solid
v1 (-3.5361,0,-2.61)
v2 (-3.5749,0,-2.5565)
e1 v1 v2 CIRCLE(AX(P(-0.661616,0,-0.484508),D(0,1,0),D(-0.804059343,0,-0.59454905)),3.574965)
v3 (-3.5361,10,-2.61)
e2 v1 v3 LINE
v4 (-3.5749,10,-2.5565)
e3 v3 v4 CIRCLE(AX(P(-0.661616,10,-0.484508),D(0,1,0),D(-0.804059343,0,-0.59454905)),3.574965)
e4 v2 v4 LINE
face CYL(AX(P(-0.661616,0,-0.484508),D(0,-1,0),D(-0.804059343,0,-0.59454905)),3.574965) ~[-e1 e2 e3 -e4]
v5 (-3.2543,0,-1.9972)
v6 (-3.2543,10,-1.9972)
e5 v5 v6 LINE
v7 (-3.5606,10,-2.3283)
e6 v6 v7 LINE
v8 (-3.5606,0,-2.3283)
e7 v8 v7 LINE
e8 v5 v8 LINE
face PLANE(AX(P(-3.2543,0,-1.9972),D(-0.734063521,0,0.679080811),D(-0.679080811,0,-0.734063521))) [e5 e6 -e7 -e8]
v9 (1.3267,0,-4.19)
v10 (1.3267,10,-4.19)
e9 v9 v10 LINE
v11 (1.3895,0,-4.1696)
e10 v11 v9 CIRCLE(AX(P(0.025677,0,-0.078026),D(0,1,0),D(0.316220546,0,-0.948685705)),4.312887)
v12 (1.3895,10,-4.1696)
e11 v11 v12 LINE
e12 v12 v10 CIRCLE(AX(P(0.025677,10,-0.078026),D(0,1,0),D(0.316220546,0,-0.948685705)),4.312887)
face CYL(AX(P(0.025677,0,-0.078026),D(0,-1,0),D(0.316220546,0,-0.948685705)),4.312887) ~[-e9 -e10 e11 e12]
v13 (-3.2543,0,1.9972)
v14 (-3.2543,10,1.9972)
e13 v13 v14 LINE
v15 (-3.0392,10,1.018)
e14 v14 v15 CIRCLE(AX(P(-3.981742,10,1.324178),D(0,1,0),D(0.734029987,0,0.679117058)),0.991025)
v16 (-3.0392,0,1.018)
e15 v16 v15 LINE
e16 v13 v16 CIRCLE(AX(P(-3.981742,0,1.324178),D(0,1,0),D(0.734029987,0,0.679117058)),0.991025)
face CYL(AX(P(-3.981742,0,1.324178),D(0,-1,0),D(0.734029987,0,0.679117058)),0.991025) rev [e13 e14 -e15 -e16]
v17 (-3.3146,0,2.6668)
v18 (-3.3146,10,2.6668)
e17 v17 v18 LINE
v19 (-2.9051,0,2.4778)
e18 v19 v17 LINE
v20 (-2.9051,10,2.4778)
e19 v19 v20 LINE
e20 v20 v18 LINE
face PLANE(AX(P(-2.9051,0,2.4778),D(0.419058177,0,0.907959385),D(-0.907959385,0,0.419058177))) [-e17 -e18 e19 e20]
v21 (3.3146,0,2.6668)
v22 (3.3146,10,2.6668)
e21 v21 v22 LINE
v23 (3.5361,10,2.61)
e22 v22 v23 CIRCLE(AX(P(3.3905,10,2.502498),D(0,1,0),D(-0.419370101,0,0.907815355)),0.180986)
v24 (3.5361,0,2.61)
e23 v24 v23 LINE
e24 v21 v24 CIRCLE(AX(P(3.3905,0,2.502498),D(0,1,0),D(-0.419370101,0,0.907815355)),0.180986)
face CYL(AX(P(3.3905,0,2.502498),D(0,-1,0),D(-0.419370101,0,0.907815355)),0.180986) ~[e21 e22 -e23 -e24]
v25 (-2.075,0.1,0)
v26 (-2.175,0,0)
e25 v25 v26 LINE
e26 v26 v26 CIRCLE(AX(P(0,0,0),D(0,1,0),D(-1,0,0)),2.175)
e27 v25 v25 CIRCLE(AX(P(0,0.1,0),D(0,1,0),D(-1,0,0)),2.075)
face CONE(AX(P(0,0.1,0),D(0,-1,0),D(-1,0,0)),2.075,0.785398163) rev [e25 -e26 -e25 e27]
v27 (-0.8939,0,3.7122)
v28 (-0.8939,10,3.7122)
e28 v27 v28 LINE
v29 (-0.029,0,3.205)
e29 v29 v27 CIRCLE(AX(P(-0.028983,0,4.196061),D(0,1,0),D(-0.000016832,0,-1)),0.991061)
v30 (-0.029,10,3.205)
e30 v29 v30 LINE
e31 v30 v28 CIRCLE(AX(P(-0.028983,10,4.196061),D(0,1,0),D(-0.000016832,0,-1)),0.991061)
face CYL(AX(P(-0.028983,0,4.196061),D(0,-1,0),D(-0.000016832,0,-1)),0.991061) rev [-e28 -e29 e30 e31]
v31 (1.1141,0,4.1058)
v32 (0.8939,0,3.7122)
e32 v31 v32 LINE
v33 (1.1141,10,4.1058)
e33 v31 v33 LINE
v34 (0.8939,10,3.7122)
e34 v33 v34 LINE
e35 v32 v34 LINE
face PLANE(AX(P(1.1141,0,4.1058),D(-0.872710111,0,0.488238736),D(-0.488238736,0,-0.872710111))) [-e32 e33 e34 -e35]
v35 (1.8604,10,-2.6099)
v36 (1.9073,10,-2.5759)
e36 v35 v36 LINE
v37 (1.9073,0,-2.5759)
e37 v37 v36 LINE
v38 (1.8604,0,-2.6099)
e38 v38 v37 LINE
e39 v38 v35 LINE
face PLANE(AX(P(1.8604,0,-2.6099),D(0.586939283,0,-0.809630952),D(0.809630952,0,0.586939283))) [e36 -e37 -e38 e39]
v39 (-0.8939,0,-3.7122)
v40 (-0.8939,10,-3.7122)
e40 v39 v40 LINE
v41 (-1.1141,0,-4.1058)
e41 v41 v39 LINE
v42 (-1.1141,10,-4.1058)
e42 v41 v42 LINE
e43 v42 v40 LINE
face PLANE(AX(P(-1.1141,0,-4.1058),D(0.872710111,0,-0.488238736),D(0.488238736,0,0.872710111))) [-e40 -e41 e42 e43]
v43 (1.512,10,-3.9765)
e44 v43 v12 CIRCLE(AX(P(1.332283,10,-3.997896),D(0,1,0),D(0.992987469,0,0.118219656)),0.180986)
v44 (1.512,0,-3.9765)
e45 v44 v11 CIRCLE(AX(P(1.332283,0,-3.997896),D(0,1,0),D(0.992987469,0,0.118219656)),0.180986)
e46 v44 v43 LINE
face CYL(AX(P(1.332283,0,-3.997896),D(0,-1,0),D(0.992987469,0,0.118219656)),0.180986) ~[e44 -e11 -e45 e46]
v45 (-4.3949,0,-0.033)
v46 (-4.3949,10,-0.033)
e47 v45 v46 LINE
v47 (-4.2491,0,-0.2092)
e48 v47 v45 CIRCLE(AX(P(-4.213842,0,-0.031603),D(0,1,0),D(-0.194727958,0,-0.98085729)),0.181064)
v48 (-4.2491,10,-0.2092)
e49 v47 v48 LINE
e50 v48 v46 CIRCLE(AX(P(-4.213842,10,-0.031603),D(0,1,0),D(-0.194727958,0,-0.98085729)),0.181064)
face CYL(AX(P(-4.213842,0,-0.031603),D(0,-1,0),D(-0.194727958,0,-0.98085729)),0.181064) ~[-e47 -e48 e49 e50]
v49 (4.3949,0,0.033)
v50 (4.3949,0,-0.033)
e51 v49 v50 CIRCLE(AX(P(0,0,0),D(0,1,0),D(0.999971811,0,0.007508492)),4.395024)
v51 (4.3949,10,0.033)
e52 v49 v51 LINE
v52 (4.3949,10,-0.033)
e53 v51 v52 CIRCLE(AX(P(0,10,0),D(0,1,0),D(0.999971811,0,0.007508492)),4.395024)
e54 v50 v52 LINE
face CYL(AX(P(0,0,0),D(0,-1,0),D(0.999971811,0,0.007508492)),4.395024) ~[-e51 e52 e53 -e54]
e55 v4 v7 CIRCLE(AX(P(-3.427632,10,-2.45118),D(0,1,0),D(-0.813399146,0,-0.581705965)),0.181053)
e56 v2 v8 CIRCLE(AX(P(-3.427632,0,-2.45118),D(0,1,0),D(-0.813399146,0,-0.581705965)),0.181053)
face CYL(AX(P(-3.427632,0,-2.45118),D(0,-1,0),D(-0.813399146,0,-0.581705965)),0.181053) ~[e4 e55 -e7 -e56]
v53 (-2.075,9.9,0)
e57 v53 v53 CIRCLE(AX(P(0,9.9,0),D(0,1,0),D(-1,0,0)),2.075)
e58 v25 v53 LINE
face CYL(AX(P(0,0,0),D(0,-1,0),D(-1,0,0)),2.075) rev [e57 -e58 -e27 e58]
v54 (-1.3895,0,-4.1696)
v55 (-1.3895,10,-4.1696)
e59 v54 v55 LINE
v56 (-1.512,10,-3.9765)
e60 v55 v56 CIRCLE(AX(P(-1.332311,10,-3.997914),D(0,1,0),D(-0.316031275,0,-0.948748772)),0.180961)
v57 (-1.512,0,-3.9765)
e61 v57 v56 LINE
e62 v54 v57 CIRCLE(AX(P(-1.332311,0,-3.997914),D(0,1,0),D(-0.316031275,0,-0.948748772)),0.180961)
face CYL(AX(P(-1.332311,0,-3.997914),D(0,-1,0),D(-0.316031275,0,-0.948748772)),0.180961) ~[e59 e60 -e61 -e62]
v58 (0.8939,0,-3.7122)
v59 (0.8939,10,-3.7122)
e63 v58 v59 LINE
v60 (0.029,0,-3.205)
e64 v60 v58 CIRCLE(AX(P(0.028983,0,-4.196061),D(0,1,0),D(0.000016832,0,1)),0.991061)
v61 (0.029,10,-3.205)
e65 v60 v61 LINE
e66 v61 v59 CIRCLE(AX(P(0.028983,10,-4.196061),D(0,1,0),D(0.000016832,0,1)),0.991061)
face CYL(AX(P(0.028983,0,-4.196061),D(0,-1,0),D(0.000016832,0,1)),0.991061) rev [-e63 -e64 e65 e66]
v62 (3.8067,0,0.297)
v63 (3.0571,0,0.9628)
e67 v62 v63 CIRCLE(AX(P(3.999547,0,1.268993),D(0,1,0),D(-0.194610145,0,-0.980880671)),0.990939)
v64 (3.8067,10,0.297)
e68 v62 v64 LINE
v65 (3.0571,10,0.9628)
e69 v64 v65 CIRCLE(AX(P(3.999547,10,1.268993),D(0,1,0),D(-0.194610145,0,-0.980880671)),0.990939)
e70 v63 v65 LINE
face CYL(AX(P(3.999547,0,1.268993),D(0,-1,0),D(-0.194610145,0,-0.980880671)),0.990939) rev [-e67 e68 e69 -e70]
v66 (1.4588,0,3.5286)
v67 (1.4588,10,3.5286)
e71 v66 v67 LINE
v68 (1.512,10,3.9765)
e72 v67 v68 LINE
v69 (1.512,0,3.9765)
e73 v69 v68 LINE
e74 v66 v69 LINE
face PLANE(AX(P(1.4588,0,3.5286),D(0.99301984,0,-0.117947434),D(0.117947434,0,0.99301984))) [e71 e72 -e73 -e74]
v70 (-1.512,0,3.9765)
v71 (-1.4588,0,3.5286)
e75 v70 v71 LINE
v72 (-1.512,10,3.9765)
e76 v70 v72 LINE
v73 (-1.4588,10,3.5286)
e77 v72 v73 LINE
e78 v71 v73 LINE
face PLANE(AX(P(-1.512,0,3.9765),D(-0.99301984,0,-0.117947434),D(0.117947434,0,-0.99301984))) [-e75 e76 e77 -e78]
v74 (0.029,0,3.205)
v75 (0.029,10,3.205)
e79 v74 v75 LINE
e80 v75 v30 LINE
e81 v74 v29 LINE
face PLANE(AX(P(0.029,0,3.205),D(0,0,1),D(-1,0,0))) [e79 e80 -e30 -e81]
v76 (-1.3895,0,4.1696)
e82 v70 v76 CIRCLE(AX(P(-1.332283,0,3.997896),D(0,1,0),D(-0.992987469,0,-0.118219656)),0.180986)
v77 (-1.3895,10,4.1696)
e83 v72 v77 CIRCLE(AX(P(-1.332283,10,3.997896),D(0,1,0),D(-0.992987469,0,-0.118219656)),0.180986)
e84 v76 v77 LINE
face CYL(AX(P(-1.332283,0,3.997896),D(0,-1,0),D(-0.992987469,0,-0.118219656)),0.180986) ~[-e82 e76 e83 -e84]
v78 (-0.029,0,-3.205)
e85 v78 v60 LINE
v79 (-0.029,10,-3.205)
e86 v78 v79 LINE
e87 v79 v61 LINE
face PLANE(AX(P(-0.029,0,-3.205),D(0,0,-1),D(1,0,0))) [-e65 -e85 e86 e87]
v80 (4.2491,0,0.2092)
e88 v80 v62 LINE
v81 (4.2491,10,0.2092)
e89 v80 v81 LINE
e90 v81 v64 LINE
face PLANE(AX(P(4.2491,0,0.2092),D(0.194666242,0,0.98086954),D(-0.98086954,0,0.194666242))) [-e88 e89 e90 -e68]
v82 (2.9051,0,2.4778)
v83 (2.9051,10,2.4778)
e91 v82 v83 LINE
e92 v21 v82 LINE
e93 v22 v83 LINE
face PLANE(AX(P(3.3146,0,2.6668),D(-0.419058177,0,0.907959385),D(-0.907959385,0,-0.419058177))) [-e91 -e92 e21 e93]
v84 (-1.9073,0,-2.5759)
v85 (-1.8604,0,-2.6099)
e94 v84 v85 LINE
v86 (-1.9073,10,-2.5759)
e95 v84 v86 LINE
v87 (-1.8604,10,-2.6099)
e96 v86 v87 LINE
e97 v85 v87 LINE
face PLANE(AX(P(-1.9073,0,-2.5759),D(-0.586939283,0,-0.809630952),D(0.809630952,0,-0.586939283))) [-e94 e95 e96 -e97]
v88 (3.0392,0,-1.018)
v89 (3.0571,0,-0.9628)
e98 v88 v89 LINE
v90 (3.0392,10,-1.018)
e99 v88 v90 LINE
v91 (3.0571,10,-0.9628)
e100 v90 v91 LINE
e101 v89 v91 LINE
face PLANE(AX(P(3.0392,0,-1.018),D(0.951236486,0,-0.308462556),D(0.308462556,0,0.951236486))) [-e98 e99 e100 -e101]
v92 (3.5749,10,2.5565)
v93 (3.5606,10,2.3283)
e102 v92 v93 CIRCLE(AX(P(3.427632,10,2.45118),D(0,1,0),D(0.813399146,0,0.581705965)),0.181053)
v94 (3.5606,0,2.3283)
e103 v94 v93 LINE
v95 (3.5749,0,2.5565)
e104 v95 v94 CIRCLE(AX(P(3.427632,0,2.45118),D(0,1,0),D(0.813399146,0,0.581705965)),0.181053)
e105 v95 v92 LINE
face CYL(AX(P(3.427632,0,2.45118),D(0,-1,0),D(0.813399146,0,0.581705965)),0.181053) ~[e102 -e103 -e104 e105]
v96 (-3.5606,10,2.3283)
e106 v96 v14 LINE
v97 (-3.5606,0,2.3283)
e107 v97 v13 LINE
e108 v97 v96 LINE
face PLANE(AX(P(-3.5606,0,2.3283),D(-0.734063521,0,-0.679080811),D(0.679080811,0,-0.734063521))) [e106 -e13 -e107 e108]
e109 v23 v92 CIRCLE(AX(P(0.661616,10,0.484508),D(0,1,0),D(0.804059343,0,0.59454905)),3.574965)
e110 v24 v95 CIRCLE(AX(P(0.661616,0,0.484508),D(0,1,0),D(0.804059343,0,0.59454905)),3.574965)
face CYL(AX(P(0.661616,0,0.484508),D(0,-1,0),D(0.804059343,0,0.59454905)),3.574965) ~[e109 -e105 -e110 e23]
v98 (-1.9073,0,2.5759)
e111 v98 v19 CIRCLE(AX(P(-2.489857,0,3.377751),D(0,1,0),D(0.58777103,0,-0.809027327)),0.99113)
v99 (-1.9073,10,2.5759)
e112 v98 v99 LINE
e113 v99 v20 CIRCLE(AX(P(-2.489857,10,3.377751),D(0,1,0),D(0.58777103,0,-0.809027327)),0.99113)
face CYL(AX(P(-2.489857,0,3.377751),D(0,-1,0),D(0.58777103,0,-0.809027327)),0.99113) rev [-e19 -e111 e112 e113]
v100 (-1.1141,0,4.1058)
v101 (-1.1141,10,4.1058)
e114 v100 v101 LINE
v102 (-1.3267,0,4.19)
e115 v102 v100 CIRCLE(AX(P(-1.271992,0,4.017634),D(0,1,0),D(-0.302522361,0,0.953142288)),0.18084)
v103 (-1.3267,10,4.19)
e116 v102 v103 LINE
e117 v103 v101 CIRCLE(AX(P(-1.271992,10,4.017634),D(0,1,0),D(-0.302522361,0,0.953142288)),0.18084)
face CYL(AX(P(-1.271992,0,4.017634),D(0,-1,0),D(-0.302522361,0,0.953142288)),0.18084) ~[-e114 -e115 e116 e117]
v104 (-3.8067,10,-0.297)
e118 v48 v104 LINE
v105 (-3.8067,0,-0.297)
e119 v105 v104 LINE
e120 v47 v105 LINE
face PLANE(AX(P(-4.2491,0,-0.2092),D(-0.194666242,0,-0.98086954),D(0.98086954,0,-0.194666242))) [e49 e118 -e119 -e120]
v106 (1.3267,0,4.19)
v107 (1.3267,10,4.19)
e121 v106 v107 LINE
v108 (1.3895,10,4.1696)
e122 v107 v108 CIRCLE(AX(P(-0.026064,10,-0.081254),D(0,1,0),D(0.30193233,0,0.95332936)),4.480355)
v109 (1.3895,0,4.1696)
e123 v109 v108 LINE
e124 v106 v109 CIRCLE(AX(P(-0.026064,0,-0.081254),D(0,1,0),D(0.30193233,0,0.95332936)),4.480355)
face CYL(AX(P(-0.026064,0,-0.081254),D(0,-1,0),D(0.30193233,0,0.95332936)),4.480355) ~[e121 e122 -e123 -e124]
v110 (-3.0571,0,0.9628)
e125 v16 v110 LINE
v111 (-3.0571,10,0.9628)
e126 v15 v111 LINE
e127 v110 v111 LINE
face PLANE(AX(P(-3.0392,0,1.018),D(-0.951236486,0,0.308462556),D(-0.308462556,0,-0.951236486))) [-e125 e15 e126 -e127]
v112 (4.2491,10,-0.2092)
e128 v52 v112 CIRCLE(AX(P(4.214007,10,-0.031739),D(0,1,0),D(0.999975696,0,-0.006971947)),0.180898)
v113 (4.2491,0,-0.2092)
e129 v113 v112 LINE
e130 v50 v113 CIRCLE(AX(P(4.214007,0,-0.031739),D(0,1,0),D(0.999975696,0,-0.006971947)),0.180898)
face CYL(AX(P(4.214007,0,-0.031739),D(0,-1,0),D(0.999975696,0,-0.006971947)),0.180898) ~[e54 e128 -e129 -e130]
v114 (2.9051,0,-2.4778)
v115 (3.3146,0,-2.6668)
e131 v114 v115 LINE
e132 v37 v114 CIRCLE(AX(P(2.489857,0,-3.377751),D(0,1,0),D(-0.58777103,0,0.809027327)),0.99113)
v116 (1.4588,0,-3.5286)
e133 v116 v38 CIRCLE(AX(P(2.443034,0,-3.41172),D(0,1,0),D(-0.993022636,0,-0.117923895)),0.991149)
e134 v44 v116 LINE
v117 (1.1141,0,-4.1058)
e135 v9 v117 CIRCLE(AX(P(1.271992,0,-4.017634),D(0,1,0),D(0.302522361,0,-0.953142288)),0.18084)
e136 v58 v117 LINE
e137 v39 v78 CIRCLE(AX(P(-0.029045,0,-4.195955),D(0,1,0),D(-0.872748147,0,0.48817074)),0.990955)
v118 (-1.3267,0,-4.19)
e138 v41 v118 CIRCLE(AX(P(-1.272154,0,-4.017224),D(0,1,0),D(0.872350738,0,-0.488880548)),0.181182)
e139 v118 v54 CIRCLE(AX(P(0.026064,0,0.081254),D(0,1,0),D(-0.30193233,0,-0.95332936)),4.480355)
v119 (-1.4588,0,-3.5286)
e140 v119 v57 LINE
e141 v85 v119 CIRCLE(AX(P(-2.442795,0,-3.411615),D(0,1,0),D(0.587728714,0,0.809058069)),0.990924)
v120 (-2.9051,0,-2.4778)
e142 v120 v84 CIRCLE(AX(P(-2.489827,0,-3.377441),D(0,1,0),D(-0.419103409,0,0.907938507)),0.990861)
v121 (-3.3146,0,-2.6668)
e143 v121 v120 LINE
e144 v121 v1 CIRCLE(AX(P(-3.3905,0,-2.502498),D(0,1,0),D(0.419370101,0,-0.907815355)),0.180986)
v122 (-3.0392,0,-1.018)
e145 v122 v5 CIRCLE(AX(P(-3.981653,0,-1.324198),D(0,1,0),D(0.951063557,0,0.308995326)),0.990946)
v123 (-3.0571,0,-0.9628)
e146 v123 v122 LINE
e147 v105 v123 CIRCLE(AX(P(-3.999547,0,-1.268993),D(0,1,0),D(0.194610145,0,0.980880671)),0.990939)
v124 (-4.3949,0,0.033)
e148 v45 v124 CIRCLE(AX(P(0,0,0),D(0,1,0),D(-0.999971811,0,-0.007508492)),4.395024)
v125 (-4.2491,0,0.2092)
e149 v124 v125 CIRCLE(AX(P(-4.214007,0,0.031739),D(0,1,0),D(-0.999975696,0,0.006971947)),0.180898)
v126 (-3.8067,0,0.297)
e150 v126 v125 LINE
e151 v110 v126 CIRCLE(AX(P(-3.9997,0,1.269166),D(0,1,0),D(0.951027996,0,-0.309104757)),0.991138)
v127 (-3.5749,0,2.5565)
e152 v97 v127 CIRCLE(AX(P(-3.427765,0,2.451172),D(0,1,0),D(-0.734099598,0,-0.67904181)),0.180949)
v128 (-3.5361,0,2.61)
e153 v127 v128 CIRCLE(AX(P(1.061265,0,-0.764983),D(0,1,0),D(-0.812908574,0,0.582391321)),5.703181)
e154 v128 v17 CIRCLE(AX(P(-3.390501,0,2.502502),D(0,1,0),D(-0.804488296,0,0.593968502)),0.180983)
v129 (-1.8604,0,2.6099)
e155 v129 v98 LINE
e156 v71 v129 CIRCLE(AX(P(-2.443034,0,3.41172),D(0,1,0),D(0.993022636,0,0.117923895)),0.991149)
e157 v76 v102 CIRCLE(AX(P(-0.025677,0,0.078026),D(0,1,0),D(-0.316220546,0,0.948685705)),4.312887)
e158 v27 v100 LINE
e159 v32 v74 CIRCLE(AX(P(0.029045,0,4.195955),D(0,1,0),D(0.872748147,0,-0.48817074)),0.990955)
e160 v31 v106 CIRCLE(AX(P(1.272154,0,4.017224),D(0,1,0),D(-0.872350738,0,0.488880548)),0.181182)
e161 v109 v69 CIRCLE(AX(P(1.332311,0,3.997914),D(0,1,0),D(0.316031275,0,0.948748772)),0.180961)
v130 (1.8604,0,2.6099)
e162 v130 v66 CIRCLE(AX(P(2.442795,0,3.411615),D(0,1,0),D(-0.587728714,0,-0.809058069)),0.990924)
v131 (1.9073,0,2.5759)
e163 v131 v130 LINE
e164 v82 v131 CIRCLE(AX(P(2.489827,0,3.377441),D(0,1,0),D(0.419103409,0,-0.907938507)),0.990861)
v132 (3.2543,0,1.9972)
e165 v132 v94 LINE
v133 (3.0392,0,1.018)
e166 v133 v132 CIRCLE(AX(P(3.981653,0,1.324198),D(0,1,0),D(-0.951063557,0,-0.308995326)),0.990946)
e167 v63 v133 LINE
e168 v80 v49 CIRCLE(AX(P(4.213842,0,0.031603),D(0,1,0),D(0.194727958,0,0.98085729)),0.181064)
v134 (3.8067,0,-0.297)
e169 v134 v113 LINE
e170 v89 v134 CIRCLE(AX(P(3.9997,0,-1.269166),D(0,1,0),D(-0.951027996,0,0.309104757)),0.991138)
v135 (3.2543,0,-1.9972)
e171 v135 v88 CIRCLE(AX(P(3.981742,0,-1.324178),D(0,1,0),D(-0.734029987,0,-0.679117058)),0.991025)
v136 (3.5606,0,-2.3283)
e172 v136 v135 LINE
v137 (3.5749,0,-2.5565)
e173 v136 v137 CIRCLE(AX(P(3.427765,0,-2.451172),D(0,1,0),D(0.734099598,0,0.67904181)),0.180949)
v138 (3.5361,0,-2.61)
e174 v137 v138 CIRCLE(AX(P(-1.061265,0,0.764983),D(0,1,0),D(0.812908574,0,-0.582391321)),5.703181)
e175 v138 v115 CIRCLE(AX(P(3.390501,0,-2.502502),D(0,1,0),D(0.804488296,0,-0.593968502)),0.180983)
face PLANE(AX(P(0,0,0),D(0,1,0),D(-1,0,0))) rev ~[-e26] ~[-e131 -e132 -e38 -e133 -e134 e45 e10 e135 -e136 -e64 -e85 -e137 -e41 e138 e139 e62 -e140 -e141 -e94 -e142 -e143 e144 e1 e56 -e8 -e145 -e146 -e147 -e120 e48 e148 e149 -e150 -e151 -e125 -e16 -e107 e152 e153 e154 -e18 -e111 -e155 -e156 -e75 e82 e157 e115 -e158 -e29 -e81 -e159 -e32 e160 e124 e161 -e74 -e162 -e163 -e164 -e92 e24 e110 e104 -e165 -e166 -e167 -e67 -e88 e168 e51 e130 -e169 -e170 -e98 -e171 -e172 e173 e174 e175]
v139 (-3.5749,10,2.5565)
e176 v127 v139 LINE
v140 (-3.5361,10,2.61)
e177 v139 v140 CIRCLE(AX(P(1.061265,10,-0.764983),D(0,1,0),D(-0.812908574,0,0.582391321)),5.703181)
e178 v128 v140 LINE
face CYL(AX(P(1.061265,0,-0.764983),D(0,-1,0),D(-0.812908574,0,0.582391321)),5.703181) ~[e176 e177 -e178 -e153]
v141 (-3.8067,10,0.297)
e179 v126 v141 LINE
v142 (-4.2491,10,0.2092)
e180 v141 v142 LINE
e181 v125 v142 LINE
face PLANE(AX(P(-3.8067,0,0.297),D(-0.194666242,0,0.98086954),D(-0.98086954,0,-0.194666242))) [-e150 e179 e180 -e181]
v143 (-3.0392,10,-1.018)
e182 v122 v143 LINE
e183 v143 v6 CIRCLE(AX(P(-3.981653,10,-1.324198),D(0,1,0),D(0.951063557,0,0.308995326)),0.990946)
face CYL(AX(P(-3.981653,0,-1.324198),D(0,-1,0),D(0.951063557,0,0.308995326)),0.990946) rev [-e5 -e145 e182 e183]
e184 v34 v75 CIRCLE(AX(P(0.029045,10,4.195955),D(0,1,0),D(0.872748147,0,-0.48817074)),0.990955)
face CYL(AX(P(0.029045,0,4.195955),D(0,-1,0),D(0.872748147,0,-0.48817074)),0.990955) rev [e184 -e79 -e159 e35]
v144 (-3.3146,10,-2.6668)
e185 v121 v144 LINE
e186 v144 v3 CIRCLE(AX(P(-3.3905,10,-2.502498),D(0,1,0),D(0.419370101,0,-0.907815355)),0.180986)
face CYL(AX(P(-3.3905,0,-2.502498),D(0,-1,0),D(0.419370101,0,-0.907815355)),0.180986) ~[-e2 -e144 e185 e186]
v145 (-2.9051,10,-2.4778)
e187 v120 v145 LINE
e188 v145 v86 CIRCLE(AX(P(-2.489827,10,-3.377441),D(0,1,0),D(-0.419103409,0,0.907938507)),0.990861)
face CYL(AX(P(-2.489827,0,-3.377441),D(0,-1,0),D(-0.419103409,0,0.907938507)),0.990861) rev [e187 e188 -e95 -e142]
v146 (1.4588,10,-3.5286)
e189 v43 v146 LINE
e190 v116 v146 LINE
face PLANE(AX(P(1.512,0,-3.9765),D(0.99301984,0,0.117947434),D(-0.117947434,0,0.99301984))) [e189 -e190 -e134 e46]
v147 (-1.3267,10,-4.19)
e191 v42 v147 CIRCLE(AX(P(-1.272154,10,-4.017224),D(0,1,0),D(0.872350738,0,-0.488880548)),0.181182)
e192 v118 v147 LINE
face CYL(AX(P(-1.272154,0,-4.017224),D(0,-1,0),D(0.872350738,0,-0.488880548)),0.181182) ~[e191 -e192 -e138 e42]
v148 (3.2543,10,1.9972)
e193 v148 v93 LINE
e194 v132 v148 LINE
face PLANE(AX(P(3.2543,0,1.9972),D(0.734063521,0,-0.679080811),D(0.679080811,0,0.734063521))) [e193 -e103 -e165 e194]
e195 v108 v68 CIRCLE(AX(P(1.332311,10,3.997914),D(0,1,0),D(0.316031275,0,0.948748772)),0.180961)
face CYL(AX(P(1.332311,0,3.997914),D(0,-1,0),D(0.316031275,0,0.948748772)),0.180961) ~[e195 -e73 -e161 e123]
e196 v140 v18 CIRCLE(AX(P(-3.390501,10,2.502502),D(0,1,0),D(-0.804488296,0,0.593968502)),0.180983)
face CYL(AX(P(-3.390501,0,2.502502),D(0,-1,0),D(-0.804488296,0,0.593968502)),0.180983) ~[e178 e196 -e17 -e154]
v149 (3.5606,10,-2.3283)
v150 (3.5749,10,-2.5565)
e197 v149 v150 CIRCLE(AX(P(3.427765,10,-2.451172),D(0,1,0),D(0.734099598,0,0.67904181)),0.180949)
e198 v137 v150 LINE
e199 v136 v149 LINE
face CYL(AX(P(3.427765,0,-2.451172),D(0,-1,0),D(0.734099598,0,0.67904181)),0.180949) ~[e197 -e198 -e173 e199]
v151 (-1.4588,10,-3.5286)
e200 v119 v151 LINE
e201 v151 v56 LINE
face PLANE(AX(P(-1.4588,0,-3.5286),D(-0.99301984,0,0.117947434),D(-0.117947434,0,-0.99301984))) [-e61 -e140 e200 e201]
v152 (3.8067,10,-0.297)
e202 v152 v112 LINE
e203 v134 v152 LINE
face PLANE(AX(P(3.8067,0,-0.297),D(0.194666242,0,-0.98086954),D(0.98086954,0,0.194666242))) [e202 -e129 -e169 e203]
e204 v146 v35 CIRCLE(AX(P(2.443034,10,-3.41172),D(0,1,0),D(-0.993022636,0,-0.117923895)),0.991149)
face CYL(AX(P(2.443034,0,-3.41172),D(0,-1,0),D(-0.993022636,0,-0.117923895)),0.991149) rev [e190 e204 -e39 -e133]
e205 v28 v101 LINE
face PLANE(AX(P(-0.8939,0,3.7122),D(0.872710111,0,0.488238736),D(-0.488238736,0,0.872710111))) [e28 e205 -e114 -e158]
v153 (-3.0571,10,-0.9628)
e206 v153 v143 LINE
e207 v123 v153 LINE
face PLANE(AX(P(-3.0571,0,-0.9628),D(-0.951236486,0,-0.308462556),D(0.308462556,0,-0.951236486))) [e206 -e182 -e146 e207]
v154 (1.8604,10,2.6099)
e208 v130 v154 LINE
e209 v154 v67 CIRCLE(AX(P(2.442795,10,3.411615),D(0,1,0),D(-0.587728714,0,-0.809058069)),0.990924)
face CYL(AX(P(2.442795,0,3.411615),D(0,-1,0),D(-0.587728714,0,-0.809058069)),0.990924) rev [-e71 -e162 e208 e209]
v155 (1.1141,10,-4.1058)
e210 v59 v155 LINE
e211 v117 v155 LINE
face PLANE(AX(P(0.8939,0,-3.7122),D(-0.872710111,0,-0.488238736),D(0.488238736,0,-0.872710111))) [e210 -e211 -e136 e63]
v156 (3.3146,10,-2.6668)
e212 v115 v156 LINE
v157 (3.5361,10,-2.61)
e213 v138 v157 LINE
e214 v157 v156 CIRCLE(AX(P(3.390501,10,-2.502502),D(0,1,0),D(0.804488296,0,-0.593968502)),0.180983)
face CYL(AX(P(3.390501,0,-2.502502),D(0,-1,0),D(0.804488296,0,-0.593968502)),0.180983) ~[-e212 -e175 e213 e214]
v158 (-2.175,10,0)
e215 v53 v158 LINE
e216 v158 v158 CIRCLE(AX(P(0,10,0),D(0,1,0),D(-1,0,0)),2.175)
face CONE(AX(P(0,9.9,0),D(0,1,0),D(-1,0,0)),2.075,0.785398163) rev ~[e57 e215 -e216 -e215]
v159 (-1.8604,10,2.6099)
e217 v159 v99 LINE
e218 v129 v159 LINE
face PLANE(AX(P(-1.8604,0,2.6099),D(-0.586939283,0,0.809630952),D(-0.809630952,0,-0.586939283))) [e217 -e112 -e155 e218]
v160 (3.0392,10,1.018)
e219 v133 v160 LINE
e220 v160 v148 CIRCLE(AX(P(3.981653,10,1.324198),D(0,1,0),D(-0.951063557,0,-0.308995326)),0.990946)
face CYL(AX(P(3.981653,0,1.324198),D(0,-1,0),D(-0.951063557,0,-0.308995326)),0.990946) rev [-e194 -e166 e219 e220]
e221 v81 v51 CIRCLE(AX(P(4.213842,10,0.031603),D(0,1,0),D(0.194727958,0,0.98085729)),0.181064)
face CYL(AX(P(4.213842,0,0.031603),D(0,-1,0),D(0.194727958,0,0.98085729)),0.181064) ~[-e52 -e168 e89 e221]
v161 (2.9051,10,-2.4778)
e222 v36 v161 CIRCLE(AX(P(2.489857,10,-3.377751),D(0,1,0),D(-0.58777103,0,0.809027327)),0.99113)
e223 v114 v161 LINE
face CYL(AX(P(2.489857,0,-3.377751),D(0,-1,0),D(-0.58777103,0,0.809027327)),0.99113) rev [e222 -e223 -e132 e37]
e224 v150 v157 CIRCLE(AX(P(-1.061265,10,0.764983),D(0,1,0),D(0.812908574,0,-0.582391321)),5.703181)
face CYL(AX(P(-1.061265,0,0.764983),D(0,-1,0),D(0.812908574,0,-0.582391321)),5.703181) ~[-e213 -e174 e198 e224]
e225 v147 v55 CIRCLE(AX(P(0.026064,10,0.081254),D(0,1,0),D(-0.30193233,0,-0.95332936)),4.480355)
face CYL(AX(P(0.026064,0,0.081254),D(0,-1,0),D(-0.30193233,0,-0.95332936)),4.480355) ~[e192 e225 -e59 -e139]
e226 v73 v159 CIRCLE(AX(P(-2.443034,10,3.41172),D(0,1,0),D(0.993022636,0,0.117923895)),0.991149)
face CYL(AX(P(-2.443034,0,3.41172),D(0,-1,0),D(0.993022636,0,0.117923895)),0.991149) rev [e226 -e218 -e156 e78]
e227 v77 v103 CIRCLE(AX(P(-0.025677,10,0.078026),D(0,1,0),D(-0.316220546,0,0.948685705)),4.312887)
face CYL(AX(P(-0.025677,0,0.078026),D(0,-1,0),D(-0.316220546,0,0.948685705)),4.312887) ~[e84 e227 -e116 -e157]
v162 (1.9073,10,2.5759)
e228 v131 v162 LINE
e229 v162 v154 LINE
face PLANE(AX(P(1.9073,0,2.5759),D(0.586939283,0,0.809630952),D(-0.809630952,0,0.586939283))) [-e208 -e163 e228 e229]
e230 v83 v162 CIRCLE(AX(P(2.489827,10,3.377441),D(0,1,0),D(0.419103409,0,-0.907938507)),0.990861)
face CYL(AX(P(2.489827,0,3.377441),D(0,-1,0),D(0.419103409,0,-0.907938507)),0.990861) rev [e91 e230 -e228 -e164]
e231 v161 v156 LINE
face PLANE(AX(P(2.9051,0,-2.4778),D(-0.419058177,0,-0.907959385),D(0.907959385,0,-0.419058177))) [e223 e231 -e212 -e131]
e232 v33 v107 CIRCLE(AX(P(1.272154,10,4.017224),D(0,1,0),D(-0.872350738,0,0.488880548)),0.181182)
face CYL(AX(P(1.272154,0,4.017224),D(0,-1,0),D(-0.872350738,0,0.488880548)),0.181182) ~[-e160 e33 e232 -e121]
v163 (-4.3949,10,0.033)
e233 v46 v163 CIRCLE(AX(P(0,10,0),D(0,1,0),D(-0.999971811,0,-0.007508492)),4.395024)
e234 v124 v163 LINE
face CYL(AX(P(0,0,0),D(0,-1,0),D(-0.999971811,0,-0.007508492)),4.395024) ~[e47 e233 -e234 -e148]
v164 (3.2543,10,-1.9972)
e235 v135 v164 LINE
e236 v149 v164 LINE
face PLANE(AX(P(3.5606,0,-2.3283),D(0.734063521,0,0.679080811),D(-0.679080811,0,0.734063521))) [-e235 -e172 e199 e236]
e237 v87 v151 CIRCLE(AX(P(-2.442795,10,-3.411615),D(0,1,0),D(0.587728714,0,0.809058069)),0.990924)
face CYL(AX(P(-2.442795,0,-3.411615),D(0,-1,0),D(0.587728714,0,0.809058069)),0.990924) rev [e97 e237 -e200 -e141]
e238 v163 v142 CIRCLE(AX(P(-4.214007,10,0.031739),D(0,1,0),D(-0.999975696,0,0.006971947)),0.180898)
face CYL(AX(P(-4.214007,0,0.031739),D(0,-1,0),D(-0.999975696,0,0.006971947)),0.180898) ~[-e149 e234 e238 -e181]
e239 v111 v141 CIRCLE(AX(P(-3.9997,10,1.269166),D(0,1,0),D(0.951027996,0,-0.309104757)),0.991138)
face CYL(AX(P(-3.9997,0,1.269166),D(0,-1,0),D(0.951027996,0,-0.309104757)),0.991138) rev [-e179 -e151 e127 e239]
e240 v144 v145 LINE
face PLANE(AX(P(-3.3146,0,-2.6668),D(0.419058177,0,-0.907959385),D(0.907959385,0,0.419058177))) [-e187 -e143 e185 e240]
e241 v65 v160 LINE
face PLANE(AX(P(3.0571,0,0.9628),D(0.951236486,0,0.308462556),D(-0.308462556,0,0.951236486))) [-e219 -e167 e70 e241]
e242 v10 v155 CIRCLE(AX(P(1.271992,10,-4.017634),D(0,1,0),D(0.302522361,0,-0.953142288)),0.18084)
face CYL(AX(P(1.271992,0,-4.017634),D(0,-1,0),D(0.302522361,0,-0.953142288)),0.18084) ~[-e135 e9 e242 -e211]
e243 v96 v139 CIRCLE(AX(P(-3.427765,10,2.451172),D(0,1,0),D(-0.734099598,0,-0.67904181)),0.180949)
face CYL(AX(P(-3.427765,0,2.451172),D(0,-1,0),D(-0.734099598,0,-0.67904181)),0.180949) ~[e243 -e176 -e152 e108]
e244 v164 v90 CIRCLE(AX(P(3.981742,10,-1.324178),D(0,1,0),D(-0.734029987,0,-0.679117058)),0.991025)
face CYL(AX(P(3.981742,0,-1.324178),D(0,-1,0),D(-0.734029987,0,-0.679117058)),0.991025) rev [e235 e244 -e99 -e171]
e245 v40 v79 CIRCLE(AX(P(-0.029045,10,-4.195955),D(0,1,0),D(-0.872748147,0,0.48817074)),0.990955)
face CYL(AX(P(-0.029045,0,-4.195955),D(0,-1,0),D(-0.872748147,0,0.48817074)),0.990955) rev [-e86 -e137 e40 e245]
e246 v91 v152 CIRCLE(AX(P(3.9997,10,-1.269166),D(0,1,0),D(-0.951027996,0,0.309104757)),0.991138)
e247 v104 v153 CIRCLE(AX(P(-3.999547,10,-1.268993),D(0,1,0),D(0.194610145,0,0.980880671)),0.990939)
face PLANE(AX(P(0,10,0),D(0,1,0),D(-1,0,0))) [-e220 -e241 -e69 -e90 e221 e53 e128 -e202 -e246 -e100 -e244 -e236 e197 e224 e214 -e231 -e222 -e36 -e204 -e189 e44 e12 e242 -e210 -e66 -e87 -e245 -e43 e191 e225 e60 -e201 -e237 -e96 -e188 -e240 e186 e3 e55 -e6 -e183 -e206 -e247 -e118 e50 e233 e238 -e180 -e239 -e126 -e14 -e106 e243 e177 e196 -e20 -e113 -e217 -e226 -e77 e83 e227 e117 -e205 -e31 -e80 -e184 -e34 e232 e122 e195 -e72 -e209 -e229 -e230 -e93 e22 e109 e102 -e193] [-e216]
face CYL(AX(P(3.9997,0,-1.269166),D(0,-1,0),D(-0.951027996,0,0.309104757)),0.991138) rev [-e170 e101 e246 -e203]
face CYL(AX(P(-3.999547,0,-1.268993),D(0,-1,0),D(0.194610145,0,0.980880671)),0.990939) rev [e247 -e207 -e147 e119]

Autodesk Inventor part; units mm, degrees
ref_plane "YZ Plane" through (0, 0, 0) normal (1, 0, 0) x (0, 1, 0)
ref_plane "XZ Plane" through (0, 0, 0) normal (0, 1, 0) x (-1, 0, 0)
ref_plane "XY Plane" through (0, 0, 0) normal (0, 0, 1) x (1, 0, 0)
sketch "Sketch3" plane through (0, 0, 0) normal (0, 1, 0) x (-1, 0, 0)
  line L0 (0.8939, 3.7122) -> (1.1141, 4.1058)
  arc A0 (1.3267, 4.19) -> (1.1141, 4.1058) centre (1.272, 4.0174) ccw
  arc A1 (1.3895, 4.1696) -> (1.3267, 4.19) centre (0, 0) ccw
  arc A2 (1.512, 3.9765) -> (1.3895, 4.1696) centre (1.3323, 3.9979) ccw
  line L1 (1.512, 3.9765) -> (1.4588, 3.5286)
  arc A3 (1.4588, 3.5286) -> (1.8604, 2.6099) centre (2.4429, 3.4117) ccw
  line L2 (1.8604, 2.6099) -> (1.9073, 2.5759)
  arc A4 (1.9073, 2.5759) -> (2.9051, 2.4778) centre (2.4898, 3.3776) ccw
  line L3 (2.9051, 2.4778) -> (3.3146, 2.6668)
  arc A5 (3.5361, 2.61) -> (3.3146, 2.6668) centre (3.3905, 2.5025) ccw
  arc A6 (3.5749, 2.5565) -> (3.5361, 2.61) centre (0, 0) ccw
  arc A7 (3.5606, 2.3283) -> (3.5749, 2.5565) centre (3.4277, 2.4512) ccw
  line L4 (3.5606, 2.3283) -> (3.2543, 1.9972)
  arc A8 (3.2543, 1.9972) -> (3.0392, 1.018) centre (3.9817, 1.3242) ccw
  line L5 (3.0392, 1.018) -> (3.0571, 0.9628)
  arc A9 (3.0571, 0.9628) -> (3.8067, 0.297) centre (3.9996, 1.2691) ccw
  line L6 (3.8067, 0.297) -> (4.2491, 0.2092)
  arc A10 (4.3949, 0.033) -> (4.2491, 0.2092) centre (4.2139, 0.0317) ccw
  arc A11 (4.3949, -0.033) -> (4.3949, 0.033) centre (0, 0) ccw
  arc A12 (4.2491, -0.2092) -> (4.3949, -0.033) centre (4.2139, -0.0317) ccw
  line L7 (4.2491, -0.2092) -> (3.8067, -0.297)
  arc A13 (3.8067, -0.297) -> (3.0571, -0.9628) centre (3.9996, -1.2691) ccw
  line L8 (3.0571, -0.9628) -> (3.0392, -1.018)
  arc A14 (3.0392, -1.018) -> (3.2543, -1.9972) centre (3.9817, -1.3242) ccw
  line L9 (3.2543, -1.9972) -> (3.5606, -2.3283)
  arc A15 (3.5749, -2.5565) -> (3.5606, -2.3283) centre (3.4277, -2.4512) ccw
  arc A16 (3.5361, -2.61) -> (3.5749, -2.5565) centre (0, 0) ccw
  arc A17 (3.3146, -2.6668) -> (3.5361, -2.61) centre (3.3905, -2.5025) ccw
  line L10 (3.3146, -2.6668) -> (2.9051, -2.4778)
  arc A18 (2.9051, -2.4778) -> (1.9073, -2.5759) centre (2.4898, -3.3776) ccw
  line L11 (1.9073, -2.5759) -> (1.8604, -2.6099)
  arc A19 (1.8604, -2.6099) -> (1.4588, -3.5286) centre (2.4429, -3.4117) ccw
  line L12 (1.4588, -3.5286) -> (1.512, -3.9765)
  arc A20 (1.3895, -4.1696) -> (1.512, -3.9765) centre (1.3323, -3.9979) ccw
  arc A21 (1.3267, -4.19) -> (1.3895, -4.1696) centre (0, 0) ccw
  arc A22 (1.1141, -4.1058) -> (1.3267, -4.19) centre (1.272, -4.0174) ccw
  line L13 (1.1141, -4.1058) -> (0.8939, -3.7122)
  arc A23 (0.8939, -3.7122) -> (0.029, -3.205) centre (0.029, -4.196) ccw
  line L14 (0.029, -3.205) -> (-0.029, -3.205)
  arc A24 (-0.029, -3.205) -> (-0.8939, -3.7122) centre (-0.029, -4.196) ccw
  line L15 (-0.8939, -3.7122) -> (-1.1141, -4.1058)
  arc A25 (-1.3267, -4.19) -> (-1.1141, -4.1058) centre (-1.272, -4.0174) ccw
  arc A26 (-1.3895, -4.1696) -> (-1.3267, -4.19) centre (0, 0) ccw
  arc A27 (-1.512, -3.9765) -> (-1.3895, -4.1696) centre (-1.3323, -3.9979) ccw
  line L16 (-1.512, -3.9765) -> (-1.4588, -3.5286)
  arc A28 (-1.4588, -3.5286) -> (-1.8604, -2.6099) centre (-2.4429, -3.4117) ccw
  line L17 (-1.8604, -2.6099) -> (-1.9073, -2.5759)
  arc A29 (-1.9073, -2.5759) -> (-2.9051, -2.4778) centre (-2.4898, -3.3776) ccw
  line L18 (-2.9051, -2.4778) -> (-3.3146, -2.6668)
  arc A30 (-3.5361, -2.61) -> (-3.3146, -2.6668) centre (-3.3905, -2.5025) ccw
  arc A31 (-3.5749, -2.5565) -> (-3.5361, -2.61) centre (0, 0) ccw
  arc A32 (-3.5606, -2.3283) -> (-3.5749, -2.5565) centre (-3.4277, -2.4512) ccw
  line L19 (-3.5606, -2.3283) -> (-3.2543, -1.9972)
  arc A33 (-3.2543, -1.9972) -> (-3.0392, -1.018) centre (-3.9817, -1.3242) ccw
  line L20 (-3.0392, -1.018) -> (-3.0571, -0.9628)
  arc A34 (-3.0571, -0.9628) -> (-3.8067, -0.297) centre (-3.9996, -1.2691) ccw
  line L21 (-3.8067, -0.297) -> (-4.2491, -0.2092)
  arc A35 (-4.3949, -0.033) -> (-4.2491, -0.2092) centre (-4.2139, -0.0317) ccw
  arc A36 (-4.3949, 0.033) -> (-4.3949, -0.033) centre (0, 0) ccw
  arc A37 (-4.2491, 0.2092) -> (-4.3949, 0.033) centre (-4.2139, 0.0317) ccw
  line L22 (-4.2491, 0.2092) -> (-3.8067, 0.297)
  arc A38 (-3.8067, 0.297) -> (-3.0571, 0.9628) centre (-3.9996, 1.2691) ccw
  line L23 (-3.0571, 0.9628) -> (-3.0392, 1.018)
  arc A39 (-3.0392, 1.018) -> (-3.2543, 1.9972) centre (-3.9817, 1.3242) ccw
  line L24 (-3.2543, 1.9972) -> (-3.5606, 2.3283)
  arc A40 (-3.5749, 2.5565) -> (-3.5606, 2.3283) centre (-3.4277, 2.4512) ccw
  arc A41 (-3.5361, 2.61) -> (-3.5749, 2.5565) centre (0, 0) ccw
  arc A42 (-3.3146, 2.6668) -> (-3.5361, 2.61) centre (-3.3905, 2.5025) ccw
  line L25 (-3.3146, 2.6668) -> (-2.9051, 2.4778)
  arc A43 (-2.9051, 2.4778) -> (-1.9073, 2.5759) centre (-2.4898, 3.3776) ccw
  line L26 (-1.9073, 2.5759) -> (-1.8604, 2.6099)
  arc A44 (-1.8604, 2.6099) -> (-1.4588, 3.5286) centre (-2.4429, 3.4117) ccw
  line L27 (-1.4588, 3.5286) -> (-1.512, 3.9765)
  arc A45 (-1.3895, 4.1696) -> (-1.512, 3.9765) centre (-1.3323, 3.9979) ccw
  arc A46 (-1.3267, 4.19) -> (-1.3895, 4.1696) centre (0, 0) ccw
  arc A47 (-1.1141, 4.1058) -> (-1.3267, 4.19) centre (-1.272, 4.0174) ccw
  line L28 (-1.1141, 4.1058) -> (-0.8939, 3.7122)
  arc A48 (-0.8939, 3.7122) -> (-0.029, 3.205) centre (-0.029, 4.196) ccw
  line L29 (-0.029, 3.205) -> (0.029, 3.205)
  arc A49 (0.029, 3.205) -> (0.8939, 3.7122) centre (0.029, 4.196) ccw
  arc A50 (-0.029, -3.405) -> (-0.7193, -3.8098) centre (-0.029, -4.196) ccw
  line L30 (-0.029, -3.405) -> (0.029, -3.405)
  arc A51 (0.7193, -3.8098) -> (0.029, -3.405) centre (0.029, -4.196) ccw
  line L31 (0.7193, -3.8098) -> (0.9395, -4.2034)
  arc A52 (0.9395, -4.2034) -> (1.387, -4.3807) centre (1.272, -4.0174) ccw
  arc A53 (1.387, -4.3807) -> (1.4527, -4.3593) centre (0, 0) ccw
  arc A54 (1.4527, -4.3593) -> (1.7106, -3.9529) centre (1.3323, -3.9979) ccw
  line L32 (1.7106, -3.9529) -> (1.6574, -3.505)
  arc A55 (1.9779, -2.7717) -> (1.6574, -3.505) centre (2.4429, -3.4117) ccw
  line L33 (1.9779, -2.7717) -> (2.0249, -2.7377)
  arc A56 (2.8213, -2.6594) -> (2.0249, -2.7377) centre (2.4898, -3.3776) ccw
  line L34 (2.8213, -2.6594) -> (3.2308, -2.8484)
  arc A57 (3.2308, -2.8484) -> (3.697, -2.7287) centre (3.3905, -2.5025) ccw
  arc A58 (3.697, -2.7287) -> (3.7376, -2.6729) centre (0, 0) ccw
  arc A59 (3.7376, -2.6729) -> (3.7074, -2.1925) centre (3.4277, -2.4512) ccw
  line L35 (3.7074, -2.1925) -> (3.4011, -1.8614)
  arc A60 (3.2294, -1.0798) -> (3.4011, -1.8614) centre (3.9817, -1.3242) ccw
  line L36 (3.2294, -1.0798) -> (3.2473, -1.0246)
  arc A61 (3.8456, -0.4932) -> (3.2473, -1.0246) centre (3.9996, -1.2691) ccw
  line L37 (3.8456, -0.4932) -> (4.288, -0.4054)
  arc A62 (4.288, -0.4054) -> (4.5949, -0.0345) centre (4.2139, -0.0317) ccw
  arc A63 (4.5949, -0.0345) -> (4.5949, 0.0345) centre (0, 0) ccw
  arc A64 (4.5949, 0.0345) -> (4.288, 0.4054) centre (4.2139, 0.0317) ccw
  line L38 (4.288, 0.4054) -> (3.8456, 0.4932)
  arc A65 (3.2473, 1.0246) -> (3.8456, 0.4932) centre (3.9996, 1.2691) ccw
  line L39 (3.2473, 1.0246) -> (3.2294, 1.0798)
  arc A66 (3.4011, 1.8614) -> (3.2294, 1.0798) centre (3.9817, 1.3242) ccw
  line L40 (3.4011, 1.8614) -> (3.7074, 2.1925)
  arc A67 (3.7074, 2.1925) -> (3.7376, 2.6729) centre (3.4277, 2.4512) ccw
  arc A68 (3.7376, 2.6729) -> (3.697, 2.7287) centre (0, 0) ccw
  arc A69 (3.697, 2.7287) -> (3.2308, 2.8484) centre (3.3905, 2.5025) ccw
  line L41 (3.2308, 2.8484) -> (2.8213, 2.6594)
  arc A70 (2.0249, 2.7377) -> (2.8213, 2.6594) centre (2.4898, 3.3776) ccw
  line L42 (2.0249, 2.7377) -> (1.9779, 2.7717)
  arc A71 (1.6574, 3.505) -> (1.9779, 2.7717) centre (2.4429, 3.4117) ccw
  line L43 (1.6574, 3.505) -> (1.7106, 3.9529)
  arc A72 (1.7106, 3.9529) -> (1.4527, 4.3593) centre (1.3323, 3.9979) ccw
  arc A73 (1.4527, 4.3593) -> (1.387, 4.3807) centre (0, 0) ccw
  arc A74 (1.387, 4.3807) -> (0.9395, 4.2034) centre (1.272, 4.0174) ccw
  line L44 (0.9395, 4.2034) -> (0.7193, 3.8098)
  arc A75 (0.029, 3.405) -> (0.7193, 3.8098) centre (0.029, 4.196) ccw
  line L45 (0.029, 3.405) -> (-0.029, 3.405)
  arc A76 (-0.7193, 3.8098) -> (-0.029, 3.405) centre (-0.029, 4.196) ccw
  line L46 (-0.7193, 3.8098) -> (-0.9395, 4.2034)
  arc A77 (-0.9395, 4.2034) -> (-1.387, 4.3807) centre (-1.272, 4.0174) ccw
  arc A78 (-1.387, 4.3807) -> (-1.4527, 4.3593) centre (0, 0) ccw
  arc A79 (-1.4527, 4.3593) -> (-1.7106, 3.9529) centre (-1.3323, 3.9979) ccw
  line L47 (-1.7106, 3.9529) -> (-1.6574, 3.505)
  arc A80 (-1.9779, 2.7717) -> (-1.6574, 3.505) centre (-2.4429, 3.4117) ccw
  line L48 (-1.9779, 2.7717) -> (-2.0249, 2.7377)
  arc A81 (-2.8213, 2.6594) -> (-2.0249, 2.7377) centre (-2.4898, 3.3776) ccw
  line L49 (-2.8213, 2.6594) -> (-3.2308, 2.8484)
  arc A82 (-3.2308, 2.8484) -> (-3.697, 2.7287) centre (-3.3905, 2.5025) ccw
  arc A83 (-3.697, 2.7287) -> (-3.7376, 2.6729) centre (0, 0) ccw
  arc A84 (-3.7376, 2.6729) -> (-3.7074, 2.1925) centre (-3.4277, 2.4512) ccw
  line L50 (-3.7074, 2.1925) -> (-3.4011, 1.8614)
  arc A85 (-3.2294, 1.0798) -> (-3.4011, 1.8614) centre (-3.9817, 1.3242) ccw
  line L51 (-3.2294, 1.0798) -> (-3.2473, 1.0246)
  arc A86 (-3.8456, 0.4932) -> (-3.2473, 1.0246) centre (-3.9996, 1.2691) ccw
  line L52 (-3.8456, 0.4932) -> (-4.288, 0.4054)
  arc A87 (-4.288, 0.4054) -> (-4.5949, 0.0345) centre (-4.2139, 0.0317) ccw
  arc A88 (-4.5949, 0.0345) -> (-4.5949, -0.0345) centre (0, 0) ccw
  arc A89 (-4.5949, -0.0345) -> (-4.288, -0.4054) centre (-4.2139, -0.0317) ccw
  line L53 (-4.288, -0.4054) -> (-3.8456, -0.4932)
  arc A90 (-3.2473, -1.0246) -> (-3.8456, -0.4932) centre (-3.9996, -1.2691) ccw
  line L54 (-3.2473, -1.0246) -> (-3.2294, -1.0798)
  arc A91 (-3.4011, -1.8614) -> (-3.2294, -1.0798) centre (-3.9817, -1.3242) ccw
  line L55 (-3.4011, -1.8614) -> (-3.7074, -2.1925)
  arc A92 (-2.0249, -2.7377) -> (-2.8213, -2.6594) centre (-2.4898, -3.3776) ccw
  line L56 (-2.0249, -2.7377) -> (-1.9779, -2.7717)
  arc A93 (-1.6574, -3.505) -> (-1.9779, -2.7717) centre (-2.4429, -3.4117) ccw
  line L57 (-1.6574, -3.505) -> (-1.7106, -3.9529)
  arc A94 (-1.7106, -3.9529) -> (-1.4527, -4.3593) centre (-1.3323, -3.9979) ccw
  arc A95 (-1.4527, -4.3593) -> (-1.387, -4.3807) centre (0, 0) ccw
  arc A96 (-1.387, -4.3807) -> (-0.9395, -4.2034) centre (-1.272, -4.0174) ccw
  line L58 (-0.9395, -4.2034) -> (-0.7193, -3.8098)
  circle A97 centre (0, 0) radius 2.075
  arc A98 (-0.029, -3.455) -> (-0.6757, -3.8342) centre (-0.029, -4.196) ccw
  line L59 (-0.029, -3.455) -> (0.029, -3.455)
  arc A99 (0.6757, -3.8342) -> (0.029, -3.455) centre (0.029, -4.196) ccw
  line L60 (0.6757, -3.8342) -> (0.8959, -4.2279)
  arc A100 (0.8959, -4.2279) -> (1.4021, -4.4283) centre (1.272, -4.0174) ccw
  arc A101 (1.4021, -4.4283) -> (1.4685, -4.4067) centre (0, 0) ccw
  arc A102 (1.4685, -4.4067) -> (1.7603, -3.947) centre (1.3323, -3.9979) ccw
  line L61 (1.7603, -3.947) -> (1.7071, -3.4991)
  arc A103 (2.0073, -2.8122) -> (1.7071, -3.4991) centre (2.4429, -3.4117) ccw
  line L62 (2.0073, -2.8122) -> (2.0543, -2.7781)
  arc A104 (2.8003, -2.7048) -> (2.0543, -2.7781) centre (2.4898, -3.3776) ccw
  line L63 (2.8003, -2.7048) -> (3.2099, -2.8938)
  arc A105 (3.2099, -2.8938) -> (3.7373, -2.7584) centre (3.3905, -2.5025) ccw
  arc A106 (3.7373, -2.7584) -> (3.7783, -2.7019) centre (0, 0) ccw
  arc A107 (3.7783, -2.7019) -> (3.7441, -2.1585) centre (3.4277, -2.4512) ccw
  line L64 (3.7441, -2.1585) -> (3.4378, -1.8274)
  arc A108 (3.2769, -1.0952) -> (3.4378, -1.8274) centre (3.9817, -1.3242) ccw
  line L65 (3.2769, -1.0952) -> (3.2949, -1.0401)
  arc A109 (3.8554, -0.5422) -> (3.2949, -1.0401) centre (3.9996, -1.2691) ccw
  line L66 (3.8554, -0.5422) -> (4.2978, -0.4544)
  arc A110 (4.2978, -0.4544) -> (4.6449, -0.0349) centre (4.2139, -0.0317) ccw
  arc A111 (4.6449, -0.0349) -> (4.6449, 0.0349) centre (0, 0) ccw
  arc A112 (4.6449, 0.0349) -> (4.2978, 0.4544) centre (4.2139, 0.0317) ccw
  line L67 (4.2978, 0.4544) -> (3.8554, 0.5422)
  arc A113 (3.2949, 1.0401) -> (3.8554, 0.5422) centre (3.9996, 1.2691) ccw
  line L68 (3.2949, 1.0401) -> (3.2769, 1.0952)
  arc A114 (3.4378, 1.8274) -> (3.2769, 1.0952) centre (3.9817, 1.3242) ccw
  line L69 (3.4378, 1.8274) -> (3.7441, 2.1585)
  arc A115 (3.7441, 2.1585) -> (3.7783, 2.7019) centre (3.4277, 2.4512) ccw
  arc A116 (3.7783, 2.7019) -> (3.7373, 2.7584) centre (0, 0) ccw
  arc A117 (3.7373, 2.7584) -> (3.2099, 2.8938) centre (3.3905, 2.5025) ccw
  line L70 (3.2099, 2.8938) -> (2.8003, 2.7048)
  arc A118 (2.0543, 2.7781) -> (2.8003, 2.7048) centre (2.4898, 3.3776) ccw
  line L71 (2.0543, 2.7781) -> (2.0073, 2.8122)
  arc A119 (1.7071, 3.4991) -> (2.0073, 2.8122) centre (2.4429, 3.4117) ccw
  line L72 (1.7071, 3.4991) -> (1.7603, 3.947)
  arc A120 (1.7603, 3.947) -> (1.4685, 4.4067) centre (1.3323, 3.9979) ccw
  arc A121 (1.4685, 4.4067) -> (1.4021, 4.4283) centre (0, 0) ccw
  arc A122 (1.4021, 4.4283) -> (0.8959, 4.2279) centre (1.272, 4.0174) ccw
  line L73 (0.8959, 4.2279) -> (0.6757, 3.8342)
  arc A123 (0.029, 3.455) -> (0.6757, 3.8342) centre (0.029, 4.196) ccw
  line L74 (0.029, 3.455) -> (-0.029, 3.455)
  arc A124 (-0.6757, 3.8342) -> (-0.029, 3.455) centre (-0.029, 4.196) ccw
  line L75 (-0.6757, 3.8342) -> (-0.8959, 4.2279)
  arc A125 (-0.8959, 4.2279) -> (-1.4021, 4.4283) centre (-1.272, 4.0174) ccw
  arc A126 (-1.4021, 4.4283) -> (-1.4685, 4.4067) centre (0, 0) ccw
  arc A127 (-1.4685, 4.4067) -> (-1.7603, 3.947) centre (-1.3323, 3.9979) ccw
  line L76 (-1.7603, 3.947) -> (-1.7071, 3.4991)
  arc A128 (-2.0073, 2.8122) -> (-1.7071, 3.4991) centre (-2.4429, 3.4117) ccw
  line L77 (-2.0073, 2.8122) -> (-2.0543, 2.7781)
  arc A129 (-2.8003, 2.7048) -> (-2.0543, 2.7781) centre (-2.4898, 3.3776) ccw
  line L78 (-2.8003, 2.7048) -> (-3.2099, 2.8938)
  arc A130 (-3.2099, 2.8938) -> (-3.7373, 2.7584) centre (-3.3905, 2.5025) ccw
  arc A131 (-3.7373, 2.7584) -> (-3.7783, 2.7019) centre (0, 0) ccw
  arc A132 (-3.7783, 2.7019) -> (-3.7441, 2.1585) centre (-3.4277, 2.4512) ccw
  line L79 (-3.7441, 2.1585) -> (-3.4378, 1.8274)
  arc A133 (-3.2769, 1.0952) -> (-3.4378, 1.8274) centre (-3.9817, 1.3242) ccw
  line L80 (-3.2769, 1.0952) -> (-3.2949, 1.0401)
  arc A134 (-3.8554, 0.5422) -> (-3.2949, 1.0401) centre (-3.9996, 1.2691) ccw
  line L81 (-3.8554, 0.5422) -> (-4.2978, 0.4544)
  arc A135 (-4.2978, 0.4544) -> (-4.6449, 0.0349) centre (-4.2139, 0.0317) ccw
  arc A136 (-4.6449, 0.0349) -> (-4.6449, -0.0349) centre (0, 0) ccw
  arc A137 (-4.6449, -0.0349) -> (-4.2978, -0.4544) centre (-4.2139, -0.0317) ccw
  line L82 (-4.2978, -0.4544) -> (-3.8554, -0.5422)
  arc A138 (-3.2949, -1.0401) -> (-3.8554, -0.5422) centre (-3.9996, -1.2691) ccw
  line L83 (-3.2949, -1.0401) -> (-3.2769, -1.0952)
  arc A139 (-3.4378, -1.8274) -> (-3.2769, -1.0952) centre (-3.9817, -1.3242) ccw
  line L84 (-3.4378, -1.8274) -> (-3.7441, -2.1585)
  arc A140 (-2.0543, -2.7781) -> (-2.8003, -2.7048) centre (-2.4898, -3.3776) ccw
  line L85 (-2.0543, -2.7781) -> (-2.0073, -2.8122)
  arc A141 (-1.7071, -3.4991) -> (-2.0073, -2.8122) centre (-2.4429, -3.4117) ccw
  line L86 (-1.7071, -3.4991) -> (-1.7603, -3.947)
  arc A142 (-1.7603, -3.947) -> (-1.4685, -4.4067) centre (-1.3323, -3.9979) ccw
  arc A143 (-1.4685, -4.4067) -> (-1.4021, -4.4283) centre (0, 0) ccw
  arc A144 (-1.4021, -4.4283) -> (-0.8959, -4.2279) centre (-1.272, -4.0174) ccw
  line L87 (-0.8959, -4.2279) -> (-0.6757, -3.8342)
  point P0 (0, 0)
  dimension "d7" = 0.2
  dimension "d9" = 4.15
  dimension "d10" = 0.25
extrude "Extrusion2" add sketch "Sketch3" along normal blind 10
chamfer "Chamfer2" distance 0.1 angle 45 2 edges at (2.075, 10, 0) (2.075, 0, 0)
properties part number "Pulley HTD 3M 10T"
